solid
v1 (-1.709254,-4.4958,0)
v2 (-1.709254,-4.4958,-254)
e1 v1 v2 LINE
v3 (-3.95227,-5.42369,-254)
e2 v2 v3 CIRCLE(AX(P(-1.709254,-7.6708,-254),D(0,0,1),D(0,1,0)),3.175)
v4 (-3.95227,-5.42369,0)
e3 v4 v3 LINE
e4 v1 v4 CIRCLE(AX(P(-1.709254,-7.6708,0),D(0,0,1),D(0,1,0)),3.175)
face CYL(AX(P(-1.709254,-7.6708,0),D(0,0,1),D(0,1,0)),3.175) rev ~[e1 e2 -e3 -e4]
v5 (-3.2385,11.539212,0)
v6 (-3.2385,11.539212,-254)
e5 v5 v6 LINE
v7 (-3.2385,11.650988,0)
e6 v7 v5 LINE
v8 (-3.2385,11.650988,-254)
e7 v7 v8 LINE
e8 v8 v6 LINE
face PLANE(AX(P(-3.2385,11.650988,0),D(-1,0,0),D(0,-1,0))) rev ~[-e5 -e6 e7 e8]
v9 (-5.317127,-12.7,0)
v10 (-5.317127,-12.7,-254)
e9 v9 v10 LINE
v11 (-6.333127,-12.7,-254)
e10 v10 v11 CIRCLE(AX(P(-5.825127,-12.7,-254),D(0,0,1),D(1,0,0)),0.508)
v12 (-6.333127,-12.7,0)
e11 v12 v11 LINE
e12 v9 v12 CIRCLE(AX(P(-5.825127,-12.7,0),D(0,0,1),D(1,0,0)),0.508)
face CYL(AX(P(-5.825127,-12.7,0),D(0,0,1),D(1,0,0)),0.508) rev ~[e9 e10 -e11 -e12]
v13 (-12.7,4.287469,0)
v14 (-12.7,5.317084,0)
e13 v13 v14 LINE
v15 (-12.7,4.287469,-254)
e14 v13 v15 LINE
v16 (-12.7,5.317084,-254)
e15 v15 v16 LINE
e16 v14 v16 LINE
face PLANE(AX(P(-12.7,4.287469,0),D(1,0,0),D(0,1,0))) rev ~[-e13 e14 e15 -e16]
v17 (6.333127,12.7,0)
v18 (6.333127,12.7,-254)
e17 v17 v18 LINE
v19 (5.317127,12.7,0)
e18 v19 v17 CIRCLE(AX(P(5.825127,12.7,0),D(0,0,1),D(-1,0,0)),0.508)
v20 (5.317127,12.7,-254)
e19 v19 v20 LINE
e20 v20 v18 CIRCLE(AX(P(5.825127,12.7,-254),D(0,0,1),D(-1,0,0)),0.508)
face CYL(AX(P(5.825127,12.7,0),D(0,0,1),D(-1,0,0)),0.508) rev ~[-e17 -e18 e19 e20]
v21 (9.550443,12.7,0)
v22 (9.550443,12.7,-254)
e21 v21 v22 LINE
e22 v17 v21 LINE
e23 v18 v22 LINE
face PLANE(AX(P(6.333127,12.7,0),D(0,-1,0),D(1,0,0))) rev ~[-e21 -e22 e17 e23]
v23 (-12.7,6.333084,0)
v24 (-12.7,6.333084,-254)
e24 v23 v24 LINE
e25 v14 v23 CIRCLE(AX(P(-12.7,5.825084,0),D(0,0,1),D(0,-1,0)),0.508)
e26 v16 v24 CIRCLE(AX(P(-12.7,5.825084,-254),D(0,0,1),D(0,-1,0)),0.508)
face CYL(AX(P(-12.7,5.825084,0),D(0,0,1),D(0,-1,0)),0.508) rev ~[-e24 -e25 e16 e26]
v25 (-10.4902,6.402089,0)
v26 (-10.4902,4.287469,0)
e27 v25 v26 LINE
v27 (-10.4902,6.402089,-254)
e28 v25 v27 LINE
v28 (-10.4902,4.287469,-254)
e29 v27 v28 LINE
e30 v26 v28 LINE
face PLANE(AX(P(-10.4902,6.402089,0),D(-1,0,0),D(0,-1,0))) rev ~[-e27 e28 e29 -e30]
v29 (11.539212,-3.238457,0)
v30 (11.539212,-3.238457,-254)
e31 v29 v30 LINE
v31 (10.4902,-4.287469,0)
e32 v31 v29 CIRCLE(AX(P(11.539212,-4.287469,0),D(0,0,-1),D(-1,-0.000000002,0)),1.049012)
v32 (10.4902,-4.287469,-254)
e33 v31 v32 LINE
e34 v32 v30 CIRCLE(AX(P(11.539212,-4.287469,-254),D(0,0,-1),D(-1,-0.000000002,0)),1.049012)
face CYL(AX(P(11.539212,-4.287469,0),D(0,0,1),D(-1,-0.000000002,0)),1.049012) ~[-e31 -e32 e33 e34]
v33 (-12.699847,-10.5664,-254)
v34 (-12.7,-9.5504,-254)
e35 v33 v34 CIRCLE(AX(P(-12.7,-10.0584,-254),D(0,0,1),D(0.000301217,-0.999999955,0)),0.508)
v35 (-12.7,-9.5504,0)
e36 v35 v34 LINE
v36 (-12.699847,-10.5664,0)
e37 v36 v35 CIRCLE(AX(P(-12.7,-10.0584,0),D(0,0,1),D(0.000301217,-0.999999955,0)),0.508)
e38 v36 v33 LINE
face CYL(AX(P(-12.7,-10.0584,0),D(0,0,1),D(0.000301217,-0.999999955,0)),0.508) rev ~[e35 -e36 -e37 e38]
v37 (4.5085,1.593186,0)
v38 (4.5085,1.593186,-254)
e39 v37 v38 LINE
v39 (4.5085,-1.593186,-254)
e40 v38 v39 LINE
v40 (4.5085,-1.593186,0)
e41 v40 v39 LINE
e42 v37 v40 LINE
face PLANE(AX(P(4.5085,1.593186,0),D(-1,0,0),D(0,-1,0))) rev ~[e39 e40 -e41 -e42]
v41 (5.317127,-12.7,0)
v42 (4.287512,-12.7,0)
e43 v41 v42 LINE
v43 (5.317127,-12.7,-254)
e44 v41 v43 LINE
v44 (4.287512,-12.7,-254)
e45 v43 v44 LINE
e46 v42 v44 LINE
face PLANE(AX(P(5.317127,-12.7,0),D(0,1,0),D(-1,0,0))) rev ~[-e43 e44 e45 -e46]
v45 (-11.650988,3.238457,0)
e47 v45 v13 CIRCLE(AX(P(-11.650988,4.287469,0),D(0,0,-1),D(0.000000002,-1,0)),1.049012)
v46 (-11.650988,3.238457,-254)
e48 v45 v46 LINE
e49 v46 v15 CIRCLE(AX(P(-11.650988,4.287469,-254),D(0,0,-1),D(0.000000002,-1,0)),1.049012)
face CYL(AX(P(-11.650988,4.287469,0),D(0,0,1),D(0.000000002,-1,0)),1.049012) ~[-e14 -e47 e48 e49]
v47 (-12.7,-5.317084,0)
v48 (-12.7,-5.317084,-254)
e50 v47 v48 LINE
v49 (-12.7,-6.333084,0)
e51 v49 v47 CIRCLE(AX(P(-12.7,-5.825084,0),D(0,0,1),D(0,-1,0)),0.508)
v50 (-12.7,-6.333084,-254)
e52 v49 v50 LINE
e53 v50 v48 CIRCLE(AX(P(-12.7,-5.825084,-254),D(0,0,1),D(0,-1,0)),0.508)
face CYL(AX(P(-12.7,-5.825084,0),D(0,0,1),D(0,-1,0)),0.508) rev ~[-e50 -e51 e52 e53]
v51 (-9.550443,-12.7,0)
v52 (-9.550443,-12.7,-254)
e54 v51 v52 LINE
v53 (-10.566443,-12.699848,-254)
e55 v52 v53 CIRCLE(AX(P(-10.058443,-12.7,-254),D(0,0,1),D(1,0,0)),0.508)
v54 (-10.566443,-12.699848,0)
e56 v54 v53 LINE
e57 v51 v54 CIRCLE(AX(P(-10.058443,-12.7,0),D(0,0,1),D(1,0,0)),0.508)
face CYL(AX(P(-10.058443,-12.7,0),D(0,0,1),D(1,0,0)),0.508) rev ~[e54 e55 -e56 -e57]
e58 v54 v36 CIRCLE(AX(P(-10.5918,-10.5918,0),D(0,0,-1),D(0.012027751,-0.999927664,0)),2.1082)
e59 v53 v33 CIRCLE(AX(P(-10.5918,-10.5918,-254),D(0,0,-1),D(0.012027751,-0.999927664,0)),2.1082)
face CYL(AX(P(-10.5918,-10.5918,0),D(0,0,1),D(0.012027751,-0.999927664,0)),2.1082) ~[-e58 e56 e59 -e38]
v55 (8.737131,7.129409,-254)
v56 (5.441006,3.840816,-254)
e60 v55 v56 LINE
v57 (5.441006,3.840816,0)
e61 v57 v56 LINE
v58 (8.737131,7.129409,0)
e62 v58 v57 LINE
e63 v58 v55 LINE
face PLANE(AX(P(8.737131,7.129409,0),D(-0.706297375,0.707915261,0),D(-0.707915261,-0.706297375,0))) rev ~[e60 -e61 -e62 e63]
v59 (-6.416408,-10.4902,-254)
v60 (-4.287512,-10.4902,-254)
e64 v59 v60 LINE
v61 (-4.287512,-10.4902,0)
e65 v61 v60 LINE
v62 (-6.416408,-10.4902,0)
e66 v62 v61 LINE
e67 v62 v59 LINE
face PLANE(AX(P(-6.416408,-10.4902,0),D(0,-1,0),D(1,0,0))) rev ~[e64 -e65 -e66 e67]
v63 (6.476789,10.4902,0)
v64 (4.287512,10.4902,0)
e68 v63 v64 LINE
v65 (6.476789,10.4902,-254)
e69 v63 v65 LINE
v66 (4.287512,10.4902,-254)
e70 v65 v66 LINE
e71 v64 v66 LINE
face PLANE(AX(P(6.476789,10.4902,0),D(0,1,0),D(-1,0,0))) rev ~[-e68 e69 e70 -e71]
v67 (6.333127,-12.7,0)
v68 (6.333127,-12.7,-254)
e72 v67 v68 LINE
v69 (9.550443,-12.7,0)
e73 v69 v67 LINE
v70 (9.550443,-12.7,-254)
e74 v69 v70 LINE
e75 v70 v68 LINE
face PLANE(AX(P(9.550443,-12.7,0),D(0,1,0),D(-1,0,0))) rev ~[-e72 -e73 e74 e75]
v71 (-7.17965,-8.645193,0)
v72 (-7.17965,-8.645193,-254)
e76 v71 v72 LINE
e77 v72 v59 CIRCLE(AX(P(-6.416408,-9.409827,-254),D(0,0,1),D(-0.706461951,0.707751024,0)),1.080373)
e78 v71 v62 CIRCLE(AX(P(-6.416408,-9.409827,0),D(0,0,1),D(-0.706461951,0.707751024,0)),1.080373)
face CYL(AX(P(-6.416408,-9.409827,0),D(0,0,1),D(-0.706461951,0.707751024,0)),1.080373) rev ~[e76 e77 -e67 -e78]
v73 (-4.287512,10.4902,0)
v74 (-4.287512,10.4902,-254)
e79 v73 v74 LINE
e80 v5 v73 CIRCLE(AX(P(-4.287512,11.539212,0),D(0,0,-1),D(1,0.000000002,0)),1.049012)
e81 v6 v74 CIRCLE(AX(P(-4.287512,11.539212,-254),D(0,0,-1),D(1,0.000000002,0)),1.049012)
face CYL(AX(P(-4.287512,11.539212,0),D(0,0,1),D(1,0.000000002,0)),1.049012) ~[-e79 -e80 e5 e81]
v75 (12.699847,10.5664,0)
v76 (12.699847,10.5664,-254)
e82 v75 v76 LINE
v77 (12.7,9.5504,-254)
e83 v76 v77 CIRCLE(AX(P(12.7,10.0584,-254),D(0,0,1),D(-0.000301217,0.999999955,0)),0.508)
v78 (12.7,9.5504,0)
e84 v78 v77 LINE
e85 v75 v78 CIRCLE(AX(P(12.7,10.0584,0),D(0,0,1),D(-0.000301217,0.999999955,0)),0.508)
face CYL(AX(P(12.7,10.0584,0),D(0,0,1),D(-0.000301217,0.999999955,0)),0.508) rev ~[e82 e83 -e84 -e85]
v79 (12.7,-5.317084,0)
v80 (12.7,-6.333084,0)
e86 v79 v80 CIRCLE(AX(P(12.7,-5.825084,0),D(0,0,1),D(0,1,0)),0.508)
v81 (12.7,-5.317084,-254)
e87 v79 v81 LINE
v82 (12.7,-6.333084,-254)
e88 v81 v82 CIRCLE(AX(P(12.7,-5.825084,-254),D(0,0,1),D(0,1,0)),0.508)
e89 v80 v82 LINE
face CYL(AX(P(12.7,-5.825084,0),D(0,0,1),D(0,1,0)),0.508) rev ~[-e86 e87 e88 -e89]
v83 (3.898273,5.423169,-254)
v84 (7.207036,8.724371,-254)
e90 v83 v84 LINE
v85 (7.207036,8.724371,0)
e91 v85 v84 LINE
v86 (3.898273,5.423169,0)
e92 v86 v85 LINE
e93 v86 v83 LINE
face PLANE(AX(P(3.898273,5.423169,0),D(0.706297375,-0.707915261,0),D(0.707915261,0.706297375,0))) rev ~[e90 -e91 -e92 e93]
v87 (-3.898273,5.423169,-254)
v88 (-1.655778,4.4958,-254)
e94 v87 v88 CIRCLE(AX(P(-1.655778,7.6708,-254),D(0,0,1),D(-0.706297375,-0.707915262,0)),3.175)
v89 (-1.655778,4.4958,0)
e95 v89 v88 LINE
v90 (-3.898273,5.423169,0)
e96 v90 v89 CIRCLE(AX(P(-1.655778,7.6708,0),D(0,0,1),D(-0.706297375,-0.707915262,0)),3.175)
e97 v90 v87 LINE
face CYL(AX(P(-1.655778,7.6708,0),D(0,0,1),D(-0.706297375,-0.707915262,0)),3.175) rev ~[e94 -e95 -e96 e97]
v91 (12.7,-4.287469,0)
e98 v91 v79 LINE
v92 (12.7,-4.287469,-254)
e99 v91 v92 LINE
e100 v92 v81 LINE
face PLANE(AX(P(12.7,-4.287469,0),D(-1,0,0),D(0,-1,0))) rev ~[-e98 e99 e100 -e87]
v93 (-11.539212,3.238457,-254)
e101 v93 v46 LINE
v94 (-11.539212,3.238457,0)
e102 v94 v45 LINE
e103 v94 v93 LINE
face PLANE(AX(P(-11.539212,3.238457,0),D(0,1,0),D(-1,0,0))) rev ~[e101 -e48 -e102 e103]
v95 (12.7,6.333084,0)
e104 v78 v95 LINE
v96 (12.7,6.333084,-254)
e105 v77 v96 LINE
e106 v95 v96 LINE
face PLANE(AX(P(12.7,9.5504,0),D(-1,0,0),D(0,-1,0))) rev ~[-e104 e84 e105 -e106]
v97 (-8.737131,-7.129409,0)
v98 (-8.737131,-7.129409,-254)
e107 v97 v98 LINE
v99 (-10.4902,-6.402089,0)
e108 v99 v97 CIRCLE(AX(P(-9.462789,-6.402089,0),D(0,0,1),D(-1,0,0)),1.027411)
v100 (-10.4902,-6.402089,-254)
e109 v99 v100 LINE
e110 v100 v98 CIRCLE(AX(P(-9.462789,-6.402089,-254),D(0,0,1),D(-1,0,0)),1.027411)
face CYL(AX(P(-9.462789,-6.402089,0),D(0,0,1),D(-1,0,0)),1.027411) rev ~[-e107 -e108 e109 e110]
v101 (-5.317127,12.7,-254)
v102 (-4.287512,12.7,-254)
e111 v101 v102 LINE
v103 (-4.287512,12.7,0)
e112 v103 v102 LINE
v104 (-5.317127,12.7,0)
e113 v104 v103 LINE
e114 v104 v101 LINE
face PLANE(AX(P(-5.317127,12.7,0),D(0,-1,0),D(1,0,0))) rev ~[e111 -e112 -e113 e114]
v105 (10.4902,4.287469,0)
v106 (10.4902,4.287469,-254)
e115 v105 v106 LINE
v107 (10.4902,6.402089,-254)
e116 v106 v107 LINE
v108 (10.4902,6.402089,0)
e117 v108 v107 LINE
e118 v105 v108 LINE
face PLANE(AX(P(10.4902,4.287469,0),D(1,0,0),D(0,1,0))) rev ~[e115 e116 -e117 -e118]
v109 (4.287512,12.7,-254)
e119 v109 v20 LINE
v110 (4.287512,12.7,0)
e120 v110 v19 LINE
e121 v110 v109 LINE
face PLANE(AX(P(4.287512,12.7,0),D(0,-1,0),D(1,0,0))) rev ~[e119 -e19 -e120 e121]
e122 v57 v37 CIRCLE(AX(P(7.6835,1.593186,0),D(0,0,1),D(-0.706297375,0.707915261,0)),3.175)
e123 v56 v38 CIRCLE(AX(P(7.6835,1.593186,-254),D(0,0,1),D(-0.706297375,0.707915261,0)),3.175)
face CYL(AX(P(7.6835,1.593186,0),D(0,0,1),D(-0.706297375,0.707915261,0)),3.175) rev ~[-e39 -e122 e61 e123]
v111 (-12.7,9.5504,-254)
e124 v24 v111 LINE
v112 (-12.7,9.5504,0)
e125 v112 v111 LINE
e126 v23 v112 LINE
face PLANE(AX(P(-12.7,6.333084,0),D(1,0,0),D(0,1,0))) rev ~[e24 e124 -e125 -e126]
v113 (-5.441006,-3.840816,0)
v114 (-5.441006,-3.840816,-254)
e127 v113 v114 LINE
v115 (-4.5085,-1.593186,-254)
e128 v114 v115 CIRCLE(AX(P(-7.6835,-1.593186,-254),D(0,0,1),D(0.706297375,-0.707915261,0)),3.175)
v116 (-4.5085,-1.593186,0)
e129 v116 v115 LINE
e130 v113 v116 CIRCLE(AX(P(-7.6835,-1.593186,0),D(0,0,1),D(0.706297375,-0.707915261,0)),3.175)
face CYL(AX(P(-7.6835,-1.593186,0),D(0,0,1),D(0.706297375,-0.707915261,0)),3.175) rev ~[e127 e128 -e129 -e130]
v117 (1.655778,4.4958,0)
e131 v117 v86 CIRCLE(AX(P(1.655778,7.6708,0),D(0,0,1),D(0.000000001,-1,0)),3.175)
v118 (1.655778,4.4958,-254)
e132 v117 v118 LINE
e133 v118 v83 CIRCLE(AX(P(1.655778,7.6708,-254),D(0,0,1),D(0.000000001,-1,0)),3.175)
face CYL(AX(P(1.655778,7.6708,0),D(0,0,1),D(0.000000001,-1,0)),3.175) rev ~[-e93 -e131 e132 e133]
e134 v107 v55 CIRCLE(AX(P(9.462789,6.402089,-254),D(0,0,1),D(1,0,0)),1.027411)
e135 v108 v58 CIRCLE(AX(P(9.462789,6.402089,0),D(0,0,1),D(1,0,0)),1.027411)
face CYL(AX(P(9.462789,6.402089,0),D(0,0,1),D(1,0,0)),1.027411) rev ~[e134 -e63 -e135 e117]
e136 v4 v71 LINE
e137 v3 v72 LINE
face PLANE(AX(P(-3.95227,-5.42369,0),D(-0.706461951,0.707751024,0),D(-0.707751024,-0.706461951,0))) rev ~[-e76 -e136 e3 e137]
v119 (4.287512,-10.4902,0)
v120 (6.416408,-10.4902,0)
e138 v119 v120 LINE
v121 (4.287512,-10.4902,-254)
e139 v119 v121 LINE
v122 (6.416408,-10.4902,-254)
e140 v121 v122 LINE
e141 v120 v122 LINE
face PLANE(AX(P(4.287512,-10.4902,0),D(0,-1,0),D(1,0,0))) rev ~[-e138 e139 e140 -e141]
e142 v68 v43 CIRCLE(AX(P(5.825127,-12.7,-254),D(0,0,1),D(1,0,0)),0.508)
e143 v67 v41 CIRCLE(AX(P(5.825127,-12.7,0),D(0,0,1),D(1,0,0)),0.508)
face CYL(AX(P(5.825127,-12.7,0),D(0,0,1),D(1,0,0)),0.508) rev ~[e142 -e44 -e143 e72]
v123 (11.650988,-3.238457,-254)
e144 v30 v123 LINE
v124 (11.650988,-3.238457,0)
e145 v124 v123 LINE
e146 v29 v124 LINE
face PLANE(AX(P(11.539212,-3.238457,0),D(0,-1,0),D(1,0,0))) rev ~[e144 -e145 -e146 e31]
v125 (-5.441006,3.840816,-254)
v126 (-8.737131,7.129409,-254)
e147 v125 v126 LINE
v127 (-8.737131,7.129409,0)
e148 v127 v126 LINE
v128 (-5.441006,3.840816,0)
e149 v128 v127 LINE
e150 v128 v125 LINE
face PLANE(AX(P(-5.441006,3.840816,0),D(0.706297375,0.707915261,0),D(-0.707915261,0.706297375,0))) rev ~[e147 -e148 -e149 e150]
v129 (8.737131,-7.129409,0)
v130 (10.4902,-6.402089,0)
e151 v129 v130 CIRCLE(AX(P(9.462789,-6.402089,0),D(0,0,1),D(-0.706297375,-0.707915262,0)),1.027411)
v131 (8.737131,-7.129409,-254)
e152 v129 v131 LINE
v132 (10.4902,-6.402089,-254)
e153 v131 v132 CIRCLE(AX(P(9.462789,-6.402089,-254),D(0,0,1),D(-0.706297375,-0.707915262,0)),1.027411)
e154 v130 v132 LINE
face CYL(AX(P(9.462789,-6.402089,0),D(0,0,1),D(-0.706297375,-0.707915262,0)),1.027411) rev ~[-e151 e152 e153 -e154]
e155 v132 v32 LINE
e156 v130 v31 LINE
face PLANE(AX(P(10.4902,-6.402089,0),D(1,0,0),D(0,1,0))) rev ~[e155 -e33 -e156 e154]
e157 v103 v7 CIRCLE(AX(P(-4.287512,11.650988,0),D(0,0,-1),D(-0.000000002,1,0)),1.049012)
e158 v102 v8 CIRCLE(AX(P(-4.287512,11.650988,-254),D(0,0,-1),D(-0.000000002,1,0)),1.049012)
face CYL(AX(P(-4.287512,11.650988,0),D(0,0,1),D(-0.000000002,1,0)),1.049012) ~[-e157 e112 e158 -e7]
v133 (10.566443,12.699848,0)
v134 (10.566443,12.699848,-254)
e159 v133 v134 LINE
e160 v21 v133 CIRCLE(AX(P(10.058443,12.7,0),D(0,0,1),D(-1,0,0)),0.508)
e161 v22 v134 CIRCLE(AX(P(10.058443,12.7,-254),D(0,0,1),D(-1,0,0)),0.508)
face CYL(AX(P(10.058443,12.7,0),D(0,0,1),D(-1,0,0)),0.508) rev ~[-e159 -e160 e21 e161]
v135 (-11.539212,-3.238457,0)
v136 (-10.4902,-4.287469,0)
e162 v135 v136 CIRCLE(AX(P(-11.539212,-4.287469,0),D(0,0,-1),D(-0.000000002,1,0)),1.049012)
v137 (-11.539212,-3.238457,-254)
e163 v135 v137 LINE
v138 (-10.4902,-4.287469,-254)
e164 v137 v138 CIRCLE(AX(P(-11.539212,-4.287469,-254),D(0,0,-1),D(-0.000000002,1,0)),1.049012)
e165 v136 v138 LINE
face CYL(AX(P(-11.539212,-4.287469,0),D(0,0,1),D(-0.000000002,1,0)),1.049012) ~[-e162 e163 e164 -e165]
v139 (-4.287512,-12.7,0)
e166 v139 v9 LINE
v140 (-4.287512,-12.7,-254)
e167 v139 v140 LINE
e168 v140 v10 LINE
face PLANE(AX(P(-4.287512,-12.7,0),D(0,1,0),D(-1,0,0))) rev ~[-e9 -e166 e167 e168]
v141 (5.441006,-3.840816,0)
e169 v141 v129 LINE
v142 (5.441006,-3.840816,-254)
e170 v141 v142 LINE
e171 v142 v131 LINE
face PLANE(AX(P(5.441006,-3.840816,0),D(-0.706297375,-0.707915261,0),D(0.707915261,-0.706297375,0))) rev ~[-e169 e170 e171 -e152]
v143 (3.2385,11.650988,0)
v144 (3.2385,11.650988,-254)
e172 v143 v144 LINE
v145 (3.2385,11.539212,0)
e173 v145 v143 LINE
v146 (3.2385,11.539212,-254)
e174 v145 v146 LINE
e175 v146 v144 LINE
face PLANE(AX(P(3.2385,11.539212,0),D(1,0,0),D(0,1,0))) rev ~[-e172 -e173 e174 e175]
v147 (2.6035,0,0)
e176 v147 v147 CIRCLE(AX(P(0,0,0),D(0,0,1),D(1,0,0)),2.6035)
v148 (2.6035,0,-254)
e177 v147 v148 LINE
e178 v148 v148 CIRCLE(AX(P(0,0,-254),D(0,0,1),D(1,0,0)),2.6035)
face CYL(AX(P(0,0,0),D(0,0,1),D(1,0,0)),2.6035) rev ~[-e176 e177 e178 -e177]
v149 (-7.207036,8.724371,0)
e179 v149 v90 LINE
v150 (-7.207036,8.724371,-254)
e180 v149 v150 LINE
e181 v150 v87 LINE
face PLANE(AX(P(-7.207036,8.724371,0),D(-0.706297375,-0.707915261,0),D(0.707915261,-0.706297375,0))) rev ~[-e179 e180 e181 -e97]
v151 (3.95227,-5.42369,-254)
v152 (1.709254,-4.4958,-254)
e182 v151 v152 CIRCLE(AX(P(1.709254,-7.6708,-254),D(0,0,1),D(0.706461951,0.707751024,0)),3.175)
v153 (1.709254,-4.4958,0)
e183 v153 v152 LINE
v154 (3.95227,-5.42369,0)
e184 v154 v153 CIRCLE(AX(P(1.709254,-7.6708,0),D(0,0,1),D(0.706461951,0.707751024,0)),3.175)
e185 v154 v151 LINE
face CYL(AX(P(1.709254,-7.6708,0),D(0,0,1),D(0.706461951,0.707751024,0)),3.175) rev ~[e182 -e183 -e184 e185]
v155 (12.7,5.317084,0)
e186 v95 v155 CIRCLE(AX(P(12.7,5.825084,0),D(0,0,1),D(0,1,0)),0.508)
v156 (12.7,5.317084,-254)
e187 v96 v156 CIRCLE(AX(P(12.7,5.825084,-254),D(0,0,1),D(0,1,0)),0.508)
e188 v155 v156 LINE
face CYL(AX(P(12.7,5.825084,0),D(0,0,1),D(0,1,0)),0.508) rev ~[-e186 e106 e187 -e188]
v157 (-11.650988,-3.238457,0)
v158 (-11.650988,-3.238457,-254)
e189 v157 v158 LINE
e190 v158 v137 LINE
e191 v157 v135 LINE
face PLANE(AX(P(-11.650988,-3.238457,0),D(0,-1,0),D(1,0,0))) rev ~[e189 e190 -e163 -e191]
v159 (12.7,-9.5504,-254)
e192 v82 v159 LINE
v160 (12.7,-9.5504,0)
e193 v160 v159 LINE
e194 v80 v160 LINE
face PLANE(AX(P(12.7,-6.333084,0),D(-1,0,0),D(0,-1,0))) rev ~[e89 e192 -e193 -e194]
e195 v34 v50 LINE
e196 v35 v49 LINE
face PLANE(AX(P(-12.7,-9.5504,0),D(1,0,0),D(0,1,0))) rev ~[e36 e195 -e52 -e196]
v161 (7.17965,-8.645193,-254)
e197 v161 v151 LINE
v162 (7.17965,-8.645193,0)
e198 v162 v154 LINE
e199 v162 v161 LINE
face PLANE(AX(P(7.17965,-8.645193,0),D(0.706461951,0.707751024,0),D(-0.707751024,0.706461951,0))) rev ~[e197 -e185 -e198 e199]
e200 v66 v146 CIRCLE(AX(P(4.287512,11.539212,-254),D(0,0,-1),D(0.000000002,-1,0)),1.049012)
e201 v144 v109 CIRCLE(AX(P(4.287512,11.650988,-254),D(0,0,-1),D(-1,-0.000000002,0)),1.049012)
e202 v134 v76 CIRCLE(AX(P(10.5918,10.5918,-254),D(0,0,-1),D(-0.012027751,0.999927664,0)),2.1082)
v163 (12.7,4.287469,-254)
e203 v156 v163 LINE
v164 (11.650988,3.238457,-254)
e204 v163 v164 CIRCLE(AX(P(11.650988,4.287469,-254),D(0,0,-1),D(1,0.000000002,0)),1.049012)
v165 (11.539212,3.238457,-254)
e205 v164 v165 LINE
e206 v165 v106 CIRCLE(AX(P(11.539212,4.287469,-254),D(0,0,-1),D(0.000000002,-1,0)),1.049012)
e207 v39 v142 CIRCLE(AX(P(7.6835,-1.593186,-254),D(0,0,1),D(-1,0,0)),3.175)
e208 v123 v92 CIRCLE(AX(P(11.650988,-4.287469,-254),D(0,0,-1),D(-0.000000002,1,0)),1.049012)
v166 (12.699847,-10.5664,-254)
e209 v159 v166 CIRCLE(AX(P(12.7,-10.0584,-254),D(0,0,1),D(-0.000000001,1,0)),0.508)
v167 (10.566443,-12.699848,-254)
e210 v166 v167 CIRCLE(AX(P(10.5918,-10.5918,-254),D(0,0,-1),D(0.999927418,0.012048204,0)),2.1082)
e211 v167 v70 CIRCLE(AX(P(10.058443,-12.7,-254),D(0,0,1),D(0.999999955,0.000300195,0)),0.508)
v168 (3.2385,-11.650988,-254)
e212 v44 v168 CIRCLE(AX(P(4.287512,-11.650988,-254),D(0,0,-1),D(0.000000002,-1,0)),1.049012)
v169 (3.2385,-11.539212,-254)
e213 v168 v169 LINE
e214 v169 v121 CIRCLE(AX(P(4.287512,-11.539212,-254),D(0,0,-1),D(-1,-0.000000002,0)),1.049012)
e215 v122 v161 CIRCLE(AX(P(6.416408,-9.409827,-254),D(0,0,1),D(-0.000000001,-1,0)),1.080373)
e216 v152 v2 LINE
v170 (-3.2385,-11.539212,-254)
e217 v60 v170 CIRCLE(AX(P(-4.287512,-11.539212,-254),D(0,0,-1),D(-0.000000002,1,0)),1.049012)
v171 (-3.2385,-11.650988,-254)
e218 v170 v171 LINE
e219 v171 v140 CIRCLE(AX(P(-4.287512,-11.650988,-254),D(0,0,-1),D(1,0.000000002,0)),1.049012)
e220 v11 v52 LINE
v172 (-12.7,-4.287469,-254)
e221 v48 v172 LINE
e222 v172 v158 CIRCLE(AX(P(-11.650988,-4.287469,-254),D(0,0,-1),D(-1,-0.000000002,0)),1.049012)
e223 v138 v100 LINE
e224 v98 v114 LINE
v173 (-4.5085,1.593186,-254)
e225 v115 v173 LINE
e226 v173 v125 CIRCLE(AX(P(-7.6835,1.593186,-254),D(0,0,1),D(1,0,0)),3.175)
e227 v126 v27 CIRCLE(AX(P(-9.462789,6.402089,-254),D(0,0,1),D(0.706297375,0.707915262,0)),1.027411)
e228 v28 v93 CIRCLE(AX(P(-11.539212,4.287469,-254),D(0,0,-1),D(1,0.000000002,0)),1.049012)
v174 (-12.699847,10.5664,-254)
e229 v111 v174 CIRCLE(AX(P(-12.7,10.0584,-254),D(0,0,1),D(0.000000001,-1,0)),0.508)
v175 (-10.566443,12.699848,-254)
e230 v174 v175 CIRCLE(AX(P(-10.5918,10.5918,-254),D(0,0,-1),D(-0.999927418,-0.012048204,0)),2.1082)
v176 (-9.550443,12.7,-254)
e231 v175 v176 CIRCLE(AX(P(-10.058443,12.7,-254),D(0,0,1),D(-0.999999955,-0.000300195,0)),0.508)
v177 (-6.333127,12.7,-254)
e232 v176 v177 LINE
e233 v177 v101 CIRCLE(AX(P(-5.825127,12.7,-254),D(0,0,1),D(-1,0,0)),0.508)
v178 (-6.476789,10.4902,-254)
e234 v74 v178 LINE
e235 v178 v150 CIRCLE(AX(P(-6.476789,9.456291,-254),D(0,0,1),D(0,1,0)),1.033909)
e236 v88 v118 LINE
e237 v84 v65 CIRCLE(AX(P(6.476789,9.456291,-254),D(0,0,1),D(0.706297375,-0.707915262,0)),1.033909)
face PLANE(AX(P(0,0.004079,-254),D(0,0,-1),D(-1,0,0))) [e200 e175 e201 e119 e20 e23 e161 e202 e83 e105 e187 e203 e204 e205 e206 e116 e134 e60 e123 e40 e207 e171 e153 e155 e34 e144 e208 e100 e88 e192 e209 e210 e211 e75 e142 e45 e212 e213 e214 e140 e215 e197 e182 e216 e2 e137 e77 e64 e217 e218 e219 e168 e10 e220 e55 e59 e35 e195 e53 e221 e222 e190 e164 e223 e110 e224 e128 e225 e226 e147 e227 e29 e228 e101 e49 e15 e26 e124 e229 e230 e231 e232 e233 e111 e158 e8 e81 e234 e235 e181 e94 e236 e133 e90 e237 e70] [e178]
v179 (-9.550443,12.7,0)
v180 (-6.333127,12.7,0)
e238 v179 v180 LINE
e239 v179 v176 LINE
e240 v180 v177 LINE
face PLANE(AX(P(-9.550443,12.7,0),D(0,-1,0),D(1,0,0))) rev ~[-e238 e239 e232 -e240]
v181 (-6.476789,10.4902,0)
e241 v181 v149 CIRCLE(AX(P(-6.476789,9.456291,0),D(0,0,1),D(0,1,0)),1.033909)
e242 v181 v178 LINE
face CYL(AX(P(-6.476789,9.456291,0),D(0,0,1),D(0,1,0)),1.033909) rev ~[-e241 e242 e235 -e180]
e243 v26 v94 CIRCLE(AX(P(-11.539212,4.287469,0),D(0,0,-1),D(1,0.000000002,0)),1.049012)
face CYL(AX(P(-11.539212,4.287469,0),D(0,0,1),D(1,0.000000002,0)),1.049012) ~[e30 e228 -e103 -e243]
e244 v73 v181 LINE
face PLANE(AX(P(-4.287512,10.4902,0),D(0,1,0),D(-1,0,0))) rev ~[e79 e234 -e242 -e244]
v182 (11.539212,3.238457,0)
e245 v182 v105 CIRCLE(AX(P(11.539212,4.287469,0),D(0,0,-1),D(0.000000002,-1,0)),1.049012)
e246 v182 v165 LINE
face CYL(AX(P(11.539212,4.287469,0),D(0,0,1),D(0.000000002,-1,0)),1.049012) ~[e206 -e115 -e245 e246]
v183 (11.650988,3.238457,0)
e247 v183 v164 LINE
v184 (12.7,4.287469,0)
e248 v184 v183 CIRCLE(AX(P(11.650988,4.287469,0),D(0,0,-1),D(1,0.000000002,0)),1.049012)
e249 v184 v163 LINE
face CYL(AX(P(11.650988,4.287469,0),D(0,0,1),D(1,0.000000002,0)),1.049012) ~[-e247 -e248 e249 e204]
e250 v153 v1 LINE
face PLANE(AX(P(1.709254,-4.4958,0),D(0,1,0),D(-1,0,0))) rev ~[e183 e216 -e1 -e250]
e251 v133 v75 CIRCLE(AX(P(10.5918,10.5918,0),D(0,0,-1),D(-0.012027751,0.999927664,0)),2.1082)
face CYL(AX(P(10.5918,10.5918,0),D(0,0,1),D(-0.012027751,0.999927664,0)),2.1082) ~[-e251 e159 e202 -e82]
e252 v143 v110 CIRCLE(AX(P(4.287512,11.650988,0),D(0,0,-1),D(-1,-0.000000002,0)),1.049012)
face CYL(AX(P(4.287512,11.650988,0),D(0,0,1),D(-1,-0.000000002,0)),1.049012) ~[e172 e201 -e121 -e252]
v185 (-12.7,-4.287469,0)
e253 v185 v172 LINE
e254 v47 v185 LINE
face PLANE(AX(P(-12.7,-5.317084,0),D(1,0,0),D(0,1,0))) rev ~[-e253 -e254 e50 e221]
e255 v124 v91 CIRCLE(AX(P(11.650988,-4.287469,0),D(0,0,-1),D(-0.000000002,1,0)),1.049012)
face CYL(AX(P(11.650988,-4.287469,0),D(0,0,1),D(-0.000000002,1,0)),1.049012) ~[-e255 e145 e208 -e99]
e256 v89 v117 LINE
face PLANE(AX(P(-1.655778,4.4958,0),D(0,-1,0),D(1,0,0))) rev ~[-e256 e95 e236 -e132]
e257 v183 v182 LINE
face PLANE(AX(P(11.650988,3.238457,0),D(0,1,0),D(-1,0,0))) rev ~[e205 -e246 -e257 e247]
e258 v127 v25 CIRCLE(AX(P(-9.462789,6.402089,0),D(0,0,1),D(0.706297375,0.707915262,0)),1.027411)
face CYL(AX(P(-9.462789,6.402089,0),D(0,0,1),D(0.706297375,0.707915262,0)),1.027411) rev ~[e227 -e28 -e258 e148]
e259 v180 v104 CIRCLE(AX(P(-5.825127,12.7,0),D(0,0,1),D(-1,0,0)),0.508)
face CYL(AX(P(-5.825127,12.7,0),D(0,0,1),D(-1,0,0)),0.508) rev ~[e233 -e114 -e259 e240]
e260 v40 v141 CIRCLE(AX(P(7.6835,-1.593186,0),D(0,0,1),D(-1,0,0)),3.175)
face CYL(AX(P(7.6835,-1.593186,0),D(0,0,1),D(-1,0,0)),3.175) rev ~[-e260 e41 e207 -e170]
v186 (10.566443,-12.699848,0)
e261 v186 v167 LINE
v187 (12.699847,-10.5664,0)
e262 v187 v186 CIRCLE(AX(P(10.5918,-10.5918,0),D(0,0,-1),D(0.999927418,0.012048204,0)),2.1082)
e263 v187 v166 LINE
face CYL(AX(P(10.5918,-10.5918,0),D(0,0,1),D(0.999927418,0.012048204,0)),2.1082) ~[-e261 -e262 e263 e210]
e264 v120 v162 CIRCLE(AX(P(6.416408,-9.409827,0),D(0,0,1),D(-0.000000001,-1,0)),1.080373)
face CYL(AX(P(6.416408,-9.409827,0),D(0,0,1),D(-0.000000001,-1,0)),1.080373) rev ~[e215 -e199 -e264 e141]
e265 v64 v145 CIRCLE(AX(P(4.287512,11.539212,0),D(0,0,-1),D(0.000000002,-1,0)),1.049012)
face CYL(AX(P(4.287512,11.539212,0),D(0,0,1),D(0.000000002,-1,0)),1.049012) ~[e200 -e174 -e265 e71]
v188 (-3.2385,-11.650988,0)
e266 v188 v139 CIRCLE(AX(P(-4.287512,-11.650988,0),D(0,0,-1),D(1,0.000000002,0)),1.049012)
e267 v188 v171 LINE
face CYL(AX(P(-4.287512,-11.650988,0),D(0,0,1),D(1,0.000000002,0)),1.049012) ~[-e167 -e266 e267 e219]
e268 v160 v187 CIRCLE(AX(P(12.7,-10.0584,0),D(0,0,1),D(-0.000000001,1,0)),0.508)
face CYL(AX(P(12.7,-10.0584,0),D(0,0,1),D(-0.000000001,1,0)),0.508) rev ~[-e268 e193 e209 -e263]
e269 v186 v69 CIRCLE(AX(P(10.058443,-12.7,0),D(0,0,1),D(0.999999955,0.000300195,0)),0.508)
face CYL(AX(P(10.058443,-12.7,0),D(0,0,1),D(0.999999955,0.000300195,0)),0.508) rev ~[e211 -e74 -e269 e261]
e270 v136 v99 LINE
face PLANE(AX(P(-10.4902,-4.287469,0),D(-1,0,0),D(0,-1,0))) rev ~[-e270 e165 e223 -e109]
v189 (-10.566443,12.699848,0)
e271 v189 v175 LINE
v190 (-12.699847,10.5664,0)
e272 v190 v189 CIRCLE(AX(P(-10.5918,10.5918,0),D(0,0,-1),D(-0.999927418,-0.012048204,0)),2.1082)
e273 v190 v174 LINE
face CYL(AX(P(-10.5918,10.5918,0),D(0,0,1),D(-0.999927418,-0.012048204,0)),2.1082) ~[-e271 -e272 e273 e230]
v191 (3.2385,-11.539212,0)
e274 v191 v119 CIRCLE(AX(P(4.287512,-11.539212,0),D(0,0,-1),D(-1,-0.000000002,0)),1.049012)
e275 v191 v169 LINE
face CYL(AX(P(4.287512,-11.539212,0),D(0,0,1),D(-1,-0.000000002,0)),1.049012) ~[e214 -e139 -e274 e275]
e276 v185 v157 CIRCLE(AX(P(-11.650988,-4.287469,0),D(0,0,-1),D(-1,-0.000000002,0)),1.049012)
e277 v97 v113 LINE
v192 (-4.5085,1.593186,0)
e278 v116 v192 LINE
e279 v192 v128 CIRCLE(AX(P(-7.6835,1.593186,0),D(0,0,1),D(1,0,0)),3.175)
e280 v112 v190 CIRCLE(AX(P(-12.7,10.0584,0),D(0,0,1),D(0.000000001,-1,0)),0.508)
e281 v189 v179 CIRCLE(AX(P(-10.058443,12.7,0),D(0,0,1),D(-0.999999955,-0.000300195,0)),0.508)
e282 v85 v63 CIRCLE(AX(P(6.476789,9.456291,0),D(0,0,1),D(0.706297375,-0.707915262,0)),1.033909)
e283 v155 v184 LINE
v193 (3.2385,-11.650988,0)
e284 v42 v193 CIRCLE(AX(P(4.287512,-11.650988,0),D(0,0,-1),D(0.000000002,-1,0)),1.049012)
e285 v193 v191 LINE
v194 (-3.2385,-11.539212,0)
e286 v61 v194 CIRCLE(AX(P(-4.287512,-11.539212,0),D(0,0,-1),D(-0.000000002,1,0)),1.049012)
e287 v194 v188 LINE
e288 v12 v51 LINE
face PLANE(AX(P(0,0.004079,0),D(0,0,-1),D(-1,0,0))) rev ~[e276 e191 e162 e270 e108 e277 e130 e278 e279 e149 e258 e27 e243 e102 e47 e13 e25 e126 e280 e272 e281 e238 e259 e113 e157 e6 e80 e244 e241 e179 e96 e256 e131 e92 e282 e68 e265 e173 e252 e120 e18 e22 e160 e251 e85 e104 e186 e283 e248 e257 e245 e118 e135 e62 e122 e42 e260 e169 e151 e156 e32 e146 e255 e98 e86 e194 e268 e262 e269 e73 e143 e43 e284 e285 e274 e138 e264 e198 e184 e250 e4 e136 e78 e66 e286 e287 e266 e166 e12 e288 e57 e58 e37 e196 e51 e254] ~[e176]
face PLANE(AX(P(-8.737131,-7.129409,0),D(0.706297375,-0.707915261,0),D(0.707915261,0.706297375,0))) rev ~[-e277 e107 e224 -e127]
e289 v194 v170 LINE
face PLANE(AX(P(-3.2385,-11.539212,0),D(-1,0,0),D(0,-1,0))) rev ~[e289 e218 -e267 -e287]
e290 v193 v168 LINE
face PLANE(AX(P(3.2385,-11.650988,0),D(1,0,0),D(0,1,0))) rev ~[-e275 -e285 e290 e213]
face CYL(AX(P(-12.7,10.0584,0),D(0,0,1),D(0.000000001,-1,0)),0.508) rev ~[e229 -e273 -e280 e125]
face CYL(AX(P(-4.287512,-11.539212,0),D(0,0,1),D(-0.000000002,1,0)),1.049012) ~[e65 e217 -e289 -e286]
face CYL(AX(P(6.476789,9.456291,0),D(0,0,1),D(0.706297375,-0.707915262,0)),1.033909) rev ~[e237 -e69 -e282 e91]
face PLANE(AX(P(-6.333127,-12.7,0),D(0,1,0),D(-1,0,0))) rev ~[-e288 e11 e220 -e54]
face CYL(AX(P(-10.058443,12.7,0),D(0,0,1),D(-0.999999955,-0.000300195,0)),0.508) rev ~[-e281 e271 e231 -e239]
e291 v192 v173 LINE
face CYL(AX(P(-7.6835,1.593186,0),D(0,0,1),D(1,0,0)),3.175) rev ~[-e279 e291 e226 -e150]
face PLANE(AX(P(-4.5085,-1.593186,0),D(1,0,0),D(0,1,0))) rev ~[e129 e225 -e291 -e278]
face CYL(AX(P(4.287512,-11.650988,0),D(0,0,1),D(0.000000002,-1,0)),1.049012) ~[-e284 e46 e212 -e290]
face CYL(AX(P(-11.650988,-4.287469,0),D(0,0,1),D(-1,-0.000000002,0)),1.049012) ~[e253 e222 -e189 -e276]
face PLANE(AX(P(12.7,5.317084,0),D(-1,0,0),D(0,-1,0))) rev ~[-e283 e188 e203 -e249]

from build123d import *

# Parameters (mm, degrees)
SKETCH1_R      = 2.6035
EXTRUDE1_DEPTH = 254


with BuildPart() as part:
    # Sketch1 → Extrude1 (new body)
    with BuildSketch(Plane.XY):
        with BuildLine():
            Line((-7.207036008, 8.724370562), (-3.898272566, 5.423169045))
            ThreePointArc((-3.898272566, 5.423169045), (-2.869120213, 4.736787962), (-1.655778399, 4.4958))
            Line((-1.655778399, 4.4958), (1.655778399, 4.4958))
            ThreePointArc((1.655778399, 4.4958), (2.869120213, 4.736787962), (3.898272566, 5.423169045))
            Line((3.898272566, 5.423169045), (7.207036008, 8.724370562))
            ThreePointArc((7.207036008, 8.724370562), (7.432222385, 9.85140422), (6.476788598, 10.4902))
            Line((6.476788598, 10.4902), (4.287512407, 10.4902))
            ThreePointArc((4.287512407, 10.4902), (3.54574862, 10.79744862), (3.2385, 11.539212407))
            Line((3.2385, 11.539212407), (3.2385, 11.650987593))
            ThreePointArc((3.2385, 11.650987593), (3.54574862, 12.39275138), (4.287512407, 12.7))
            Line((4.287512407, 12.7), (5.317126718, 12.7))
            ThreePointArc((5.317126718, 12.7), (5.825126718, 12.192), (6.333126718, 12.7))
            Line((6.333126718, 12.7), (9.550443118, 12.7))
            ThreePointArc((9.550443118, 12.7), (10.058366869, 12.192000006), (10.566443095, 12.699847501))
            ThreePointArc((10.566443095, 12.699847501), (12.082537762, 12.08250727), (12.699846982, 10.566399977))
            ThreePointArc((12.699846982, 10.566399977), (12.192000006, 10.058323491), (12.7, 9.5504))
            Line((12.7, 9.5504), (12.7, 6.3330836))
            ThreePointArc((12.7, 6.3330836), (12.192, 5.8250836), (12.7, 5.3170836))
            Line((12.7, 5.3170836), (12.7, 4.287469289))
            ThreePointArc((12.7, 4.287469289), (12.39275138, 3.545705502), (11.650987593, 3.238456882))
            Line((11.650987593, 3.238456882), (11.539212407, 3.238456882))
            ThreePointArc((11.539212407, 3.238456882), (10.79744862, 3.545705502), (10.4902, 4.287469289))
            Line((10.4902, 4.287469289), (10.4902, 6.402089023))
            ThreePointArc((10.4902, 6.402089023), (9.856505071, 7.351067942), (8.737131347, 7.129408934))
            Line((8.737131347, 7.129408934), (5.441005833, 3.840816462))
            ThreePointArc((5.441005833, 3.840816462), (4.750877967, 2.809883091), (4.5085, 1.593185507))
            Line((4.5085, 1.593185507), (4.5085, -1.593185507))
            ThreePointArc((4.5085, -1.593185507), (4.750877967, -2.809883091), (5.441005833, -3.840816462))
            Line((5.441005833, -3.840816462), (8.737131347, -7.129408934))
            ThreePointArc((8.737131347, -7.129408934), (9.856505071, -7.351067942), (10.4902, -6.402089023))
            Line((10.4902, -6.402089023), (10.4902, -4.287469289))
            ThreePointArc((10.4902, -4.287469289), (10.79744862, -3.545705502), (11.539212407, -3.238456882))
            Line((11.539212407, -3.238456882), (11.650987593, -3.238456882))
            ThreePointArc((11.650987593, -3.238456882), (12.39275138, -3.545705502), (12.7, -4.287469289))
            Line((12.7, -4.287469289), (12.7, -5.3170836))
            ThreePointArc((12.7, -5.3170836), (12.192, -5.8250836), (12.7, -6.3330836))
            Line((12.7, -6.3330836), (12.7, -9.5504))
            ThreePointArc((12.7, -9.5504), (12.192000006, -10.058323491), (12.699846982, -10.566399977))
            ThreePointArc((12.699846982, -10.566399977), (12.082537762, -12.08250727), (10.566443095, -12.699847501))
            ThreePointArc((10.566443095, -12.699847501), (10.058366869, -12.192000006), (9.550443118, -12.7))
            Line((9.550443118, -12.7), (6.333126718, -12.7))
            ThreePointArc((6.333126718, -12.7), (5.825126718, -12.192), (5.317126718, -12.7))
            Line((5.317126718, -12.7), (4.287512407, -12.7))
            ThreePointArc((4.287512407, -12.7), (3.54574862, -12.39275138), (3.2385, -11.650987593))
            Line((3.2385, -11.650987593), (3.2385, -11.539212407))
            ThreePointArc((3.2385, -11.539212407), (3.54574862, -10.79744862), (4.287512407, -10.4902))
            Line((4.287512407, -10.4902), (6.416408329, -10.4902))
            ThreePointArc((6.416408329, -10.4902), (7.41473083, -9.822813117), (7.179650497, -8.645192506))
            Line((7.179650497, -8.645192506), (3.952270251, -5.423690499))
            ThreePointArc((3.952270251, -5.423690499), (2.922936451, -4.736929036), (1.709253557, -4.4958))
            Line((1.709253557, -4.4958), (-1.709253557, -4.4958))
            ThreePointArc((-1.709253557, -4.4958), (-2.922936451, -4.736929036), (-3.952270251, -5.423690499))
            Line((-3.952270251, -5.423690499), (-7.179650497, -8.645192506))
            ThreePointArc((-7.179650497, -8.645192506), (-7.41473083, -9.822813117), (-6.416408329, -10.4902))
            Line((-6.416408329, -10.4902), (-4.287512407, -10.4902))
            ThreePointArc((-4.287512407, -10.4902), (-3.54574862, -10.79744862), (-3.2385, -11.539212407))
            Line((-3.2385, -11.539212407), (-3.2385, -11.650987593))
            ThreePointArc((-3.2385, -11.650987593), (-3.54574862, -12.39275138), (-4.287512407, -12.7))
            Line((-4.287512407, -12.7), (-5.317126718, -12.7))
            ThreePointArc((-5.317126718, -12.7), (-5.825126718, -12.192), (-6.333126718, -12.7))
            Line((-6.333126718, -12.7), (-9.550443118, -12.7))
            ThreePointArc((-9.550443118, -12.7), (-10.058366869, -12.192000006), (-10.566443095, -12.699847501))
            ThreePointArc((-10.566443095, -12.699847501), (-12.082537762, -12.08250727), (-12.699846982, -10.566399977))
            ThreePointArc((-12.699846982, -10.566399977), (-12.192000006, -10.058323491), (-12.7, -9.5504))
            Line((-12.7, -9.5504), (-12.7, -6.3330836))
            ThreePointArc((-12.7, -6.3330836), (-12.192, -5.8250836), (-12.7, -5.3170836))
            Line((-12.7, -5.3170836), (-12.7, -4.287469289))
            ThreePointArc((-12.7, -4.287469289), (-12.39275138, -3.545705502), (-11.650987593, -3.238456882))
            Line((-11.650987593, -3.238456882), (-11.539212407, -3.238456882))
            ThreePointArc((-11.539212407, -3.238456882), (-10.79744862, -3.545705502), (-10.4902, -4.287469289))
            Line((-10.4902, -4.287469289), (-10.4902, -6.402089023))
            ThreePointArc((-10.4902, -6.402089023), (-9.856505071, -7.351067942), (-8.737131347, -7.129408934))
            Line((-8.737131347, -7.129408934), (-5.441005833, -3.840816462))
            ThreePointArc((-5.441005833, -3.840816462), (-4.750877967, -2.809883091), (-4.5085, -1.593185507))
            Line((-4.5085, -1.593185507), (-4.5085, 1.593185507))
            ThreePointArc((-4.5085, 1.593185507), (-4.750877967, 2.809883091), (-5.441005833, 3.840816462))
            Line((-5.441005833, 3.840816462), (-8.737131347, 7.129408934))
            ThreePointArc((-8.737131347, 7.129408934), (-9.856505071, 7.351067942), (-10.4902, 6.402089023))
            Line((-10.4902, 6.402089023), (-10.4902, 4.287469289))
            ThreePointArc((-10.4902, 4.287469289), (-10.79744862, 3.545705502), (-11.539212407, 3.238456882))
            Line((-11.539212407, 3.238456882), (-11.650987593, 3.238456882))
            ThreePointArc((-11.650987593, 3.238456882), (-12.39275138, 3.545705502), (-12.7, 4.287469289))
            Line((-12.7, 4.287469289), (-12.7, 5.3170836))
            ThreePointArc((-12.7, 5.3170836), (-12.192, 5.8250836), (-12.7, 6.3330836))
            Line((-12.7, 6.3330836), (-12.7, 9.5504))
            ThreePointArc((-12.7, 9.5504), (-12.192000006, 10.058323491), (-12.699846982, 10.566399977))
            ThreePointArc((-12.699846982, 10.566399977), (-12.082537762, 12.08250727), (-10.566443095, 12.699847501))
            ThreePointArc((-10.566443095, 12.699847501), (-10.058366869, 12.192000006), (-9.550443118, 12.7))
            Line((-9.550443118, 12.7), (-6.333126718, 12.7))
            ThreePointArc((-6.333126718, 12.7), (-5.825126718, 12.192), (-5.317126718, 12.7))
            Line((-5.317126718, 12.7), (-4.287512407, 12.7))
            ThreePointArc((-4.287512407, 12.7), (-3.54574862, 12.39275138), (-3.2385, 11.650987593))
            Line((-3.2385, 11.650987593), (-3.2385, 11.539212407))
            ThreePointArc((-3.2385, 11.539212407), (-3.54574862, 10.79744862), (-4.287512407, 10.4902))
            Line((-4.287512407, 10.4902), (-6.476788598, 10.4902))
            ThreePointArc((-6.476788598, 10.4902), (-7.432222385, 9.85140422), (-7.207036008, 8.724370562))
        make_face()
        Circle(SKETCH1_R, mode=Mode.SUBTRACT)
    extrude(amount=-EXTRUDE1_DEPTH)


solid = part.part
